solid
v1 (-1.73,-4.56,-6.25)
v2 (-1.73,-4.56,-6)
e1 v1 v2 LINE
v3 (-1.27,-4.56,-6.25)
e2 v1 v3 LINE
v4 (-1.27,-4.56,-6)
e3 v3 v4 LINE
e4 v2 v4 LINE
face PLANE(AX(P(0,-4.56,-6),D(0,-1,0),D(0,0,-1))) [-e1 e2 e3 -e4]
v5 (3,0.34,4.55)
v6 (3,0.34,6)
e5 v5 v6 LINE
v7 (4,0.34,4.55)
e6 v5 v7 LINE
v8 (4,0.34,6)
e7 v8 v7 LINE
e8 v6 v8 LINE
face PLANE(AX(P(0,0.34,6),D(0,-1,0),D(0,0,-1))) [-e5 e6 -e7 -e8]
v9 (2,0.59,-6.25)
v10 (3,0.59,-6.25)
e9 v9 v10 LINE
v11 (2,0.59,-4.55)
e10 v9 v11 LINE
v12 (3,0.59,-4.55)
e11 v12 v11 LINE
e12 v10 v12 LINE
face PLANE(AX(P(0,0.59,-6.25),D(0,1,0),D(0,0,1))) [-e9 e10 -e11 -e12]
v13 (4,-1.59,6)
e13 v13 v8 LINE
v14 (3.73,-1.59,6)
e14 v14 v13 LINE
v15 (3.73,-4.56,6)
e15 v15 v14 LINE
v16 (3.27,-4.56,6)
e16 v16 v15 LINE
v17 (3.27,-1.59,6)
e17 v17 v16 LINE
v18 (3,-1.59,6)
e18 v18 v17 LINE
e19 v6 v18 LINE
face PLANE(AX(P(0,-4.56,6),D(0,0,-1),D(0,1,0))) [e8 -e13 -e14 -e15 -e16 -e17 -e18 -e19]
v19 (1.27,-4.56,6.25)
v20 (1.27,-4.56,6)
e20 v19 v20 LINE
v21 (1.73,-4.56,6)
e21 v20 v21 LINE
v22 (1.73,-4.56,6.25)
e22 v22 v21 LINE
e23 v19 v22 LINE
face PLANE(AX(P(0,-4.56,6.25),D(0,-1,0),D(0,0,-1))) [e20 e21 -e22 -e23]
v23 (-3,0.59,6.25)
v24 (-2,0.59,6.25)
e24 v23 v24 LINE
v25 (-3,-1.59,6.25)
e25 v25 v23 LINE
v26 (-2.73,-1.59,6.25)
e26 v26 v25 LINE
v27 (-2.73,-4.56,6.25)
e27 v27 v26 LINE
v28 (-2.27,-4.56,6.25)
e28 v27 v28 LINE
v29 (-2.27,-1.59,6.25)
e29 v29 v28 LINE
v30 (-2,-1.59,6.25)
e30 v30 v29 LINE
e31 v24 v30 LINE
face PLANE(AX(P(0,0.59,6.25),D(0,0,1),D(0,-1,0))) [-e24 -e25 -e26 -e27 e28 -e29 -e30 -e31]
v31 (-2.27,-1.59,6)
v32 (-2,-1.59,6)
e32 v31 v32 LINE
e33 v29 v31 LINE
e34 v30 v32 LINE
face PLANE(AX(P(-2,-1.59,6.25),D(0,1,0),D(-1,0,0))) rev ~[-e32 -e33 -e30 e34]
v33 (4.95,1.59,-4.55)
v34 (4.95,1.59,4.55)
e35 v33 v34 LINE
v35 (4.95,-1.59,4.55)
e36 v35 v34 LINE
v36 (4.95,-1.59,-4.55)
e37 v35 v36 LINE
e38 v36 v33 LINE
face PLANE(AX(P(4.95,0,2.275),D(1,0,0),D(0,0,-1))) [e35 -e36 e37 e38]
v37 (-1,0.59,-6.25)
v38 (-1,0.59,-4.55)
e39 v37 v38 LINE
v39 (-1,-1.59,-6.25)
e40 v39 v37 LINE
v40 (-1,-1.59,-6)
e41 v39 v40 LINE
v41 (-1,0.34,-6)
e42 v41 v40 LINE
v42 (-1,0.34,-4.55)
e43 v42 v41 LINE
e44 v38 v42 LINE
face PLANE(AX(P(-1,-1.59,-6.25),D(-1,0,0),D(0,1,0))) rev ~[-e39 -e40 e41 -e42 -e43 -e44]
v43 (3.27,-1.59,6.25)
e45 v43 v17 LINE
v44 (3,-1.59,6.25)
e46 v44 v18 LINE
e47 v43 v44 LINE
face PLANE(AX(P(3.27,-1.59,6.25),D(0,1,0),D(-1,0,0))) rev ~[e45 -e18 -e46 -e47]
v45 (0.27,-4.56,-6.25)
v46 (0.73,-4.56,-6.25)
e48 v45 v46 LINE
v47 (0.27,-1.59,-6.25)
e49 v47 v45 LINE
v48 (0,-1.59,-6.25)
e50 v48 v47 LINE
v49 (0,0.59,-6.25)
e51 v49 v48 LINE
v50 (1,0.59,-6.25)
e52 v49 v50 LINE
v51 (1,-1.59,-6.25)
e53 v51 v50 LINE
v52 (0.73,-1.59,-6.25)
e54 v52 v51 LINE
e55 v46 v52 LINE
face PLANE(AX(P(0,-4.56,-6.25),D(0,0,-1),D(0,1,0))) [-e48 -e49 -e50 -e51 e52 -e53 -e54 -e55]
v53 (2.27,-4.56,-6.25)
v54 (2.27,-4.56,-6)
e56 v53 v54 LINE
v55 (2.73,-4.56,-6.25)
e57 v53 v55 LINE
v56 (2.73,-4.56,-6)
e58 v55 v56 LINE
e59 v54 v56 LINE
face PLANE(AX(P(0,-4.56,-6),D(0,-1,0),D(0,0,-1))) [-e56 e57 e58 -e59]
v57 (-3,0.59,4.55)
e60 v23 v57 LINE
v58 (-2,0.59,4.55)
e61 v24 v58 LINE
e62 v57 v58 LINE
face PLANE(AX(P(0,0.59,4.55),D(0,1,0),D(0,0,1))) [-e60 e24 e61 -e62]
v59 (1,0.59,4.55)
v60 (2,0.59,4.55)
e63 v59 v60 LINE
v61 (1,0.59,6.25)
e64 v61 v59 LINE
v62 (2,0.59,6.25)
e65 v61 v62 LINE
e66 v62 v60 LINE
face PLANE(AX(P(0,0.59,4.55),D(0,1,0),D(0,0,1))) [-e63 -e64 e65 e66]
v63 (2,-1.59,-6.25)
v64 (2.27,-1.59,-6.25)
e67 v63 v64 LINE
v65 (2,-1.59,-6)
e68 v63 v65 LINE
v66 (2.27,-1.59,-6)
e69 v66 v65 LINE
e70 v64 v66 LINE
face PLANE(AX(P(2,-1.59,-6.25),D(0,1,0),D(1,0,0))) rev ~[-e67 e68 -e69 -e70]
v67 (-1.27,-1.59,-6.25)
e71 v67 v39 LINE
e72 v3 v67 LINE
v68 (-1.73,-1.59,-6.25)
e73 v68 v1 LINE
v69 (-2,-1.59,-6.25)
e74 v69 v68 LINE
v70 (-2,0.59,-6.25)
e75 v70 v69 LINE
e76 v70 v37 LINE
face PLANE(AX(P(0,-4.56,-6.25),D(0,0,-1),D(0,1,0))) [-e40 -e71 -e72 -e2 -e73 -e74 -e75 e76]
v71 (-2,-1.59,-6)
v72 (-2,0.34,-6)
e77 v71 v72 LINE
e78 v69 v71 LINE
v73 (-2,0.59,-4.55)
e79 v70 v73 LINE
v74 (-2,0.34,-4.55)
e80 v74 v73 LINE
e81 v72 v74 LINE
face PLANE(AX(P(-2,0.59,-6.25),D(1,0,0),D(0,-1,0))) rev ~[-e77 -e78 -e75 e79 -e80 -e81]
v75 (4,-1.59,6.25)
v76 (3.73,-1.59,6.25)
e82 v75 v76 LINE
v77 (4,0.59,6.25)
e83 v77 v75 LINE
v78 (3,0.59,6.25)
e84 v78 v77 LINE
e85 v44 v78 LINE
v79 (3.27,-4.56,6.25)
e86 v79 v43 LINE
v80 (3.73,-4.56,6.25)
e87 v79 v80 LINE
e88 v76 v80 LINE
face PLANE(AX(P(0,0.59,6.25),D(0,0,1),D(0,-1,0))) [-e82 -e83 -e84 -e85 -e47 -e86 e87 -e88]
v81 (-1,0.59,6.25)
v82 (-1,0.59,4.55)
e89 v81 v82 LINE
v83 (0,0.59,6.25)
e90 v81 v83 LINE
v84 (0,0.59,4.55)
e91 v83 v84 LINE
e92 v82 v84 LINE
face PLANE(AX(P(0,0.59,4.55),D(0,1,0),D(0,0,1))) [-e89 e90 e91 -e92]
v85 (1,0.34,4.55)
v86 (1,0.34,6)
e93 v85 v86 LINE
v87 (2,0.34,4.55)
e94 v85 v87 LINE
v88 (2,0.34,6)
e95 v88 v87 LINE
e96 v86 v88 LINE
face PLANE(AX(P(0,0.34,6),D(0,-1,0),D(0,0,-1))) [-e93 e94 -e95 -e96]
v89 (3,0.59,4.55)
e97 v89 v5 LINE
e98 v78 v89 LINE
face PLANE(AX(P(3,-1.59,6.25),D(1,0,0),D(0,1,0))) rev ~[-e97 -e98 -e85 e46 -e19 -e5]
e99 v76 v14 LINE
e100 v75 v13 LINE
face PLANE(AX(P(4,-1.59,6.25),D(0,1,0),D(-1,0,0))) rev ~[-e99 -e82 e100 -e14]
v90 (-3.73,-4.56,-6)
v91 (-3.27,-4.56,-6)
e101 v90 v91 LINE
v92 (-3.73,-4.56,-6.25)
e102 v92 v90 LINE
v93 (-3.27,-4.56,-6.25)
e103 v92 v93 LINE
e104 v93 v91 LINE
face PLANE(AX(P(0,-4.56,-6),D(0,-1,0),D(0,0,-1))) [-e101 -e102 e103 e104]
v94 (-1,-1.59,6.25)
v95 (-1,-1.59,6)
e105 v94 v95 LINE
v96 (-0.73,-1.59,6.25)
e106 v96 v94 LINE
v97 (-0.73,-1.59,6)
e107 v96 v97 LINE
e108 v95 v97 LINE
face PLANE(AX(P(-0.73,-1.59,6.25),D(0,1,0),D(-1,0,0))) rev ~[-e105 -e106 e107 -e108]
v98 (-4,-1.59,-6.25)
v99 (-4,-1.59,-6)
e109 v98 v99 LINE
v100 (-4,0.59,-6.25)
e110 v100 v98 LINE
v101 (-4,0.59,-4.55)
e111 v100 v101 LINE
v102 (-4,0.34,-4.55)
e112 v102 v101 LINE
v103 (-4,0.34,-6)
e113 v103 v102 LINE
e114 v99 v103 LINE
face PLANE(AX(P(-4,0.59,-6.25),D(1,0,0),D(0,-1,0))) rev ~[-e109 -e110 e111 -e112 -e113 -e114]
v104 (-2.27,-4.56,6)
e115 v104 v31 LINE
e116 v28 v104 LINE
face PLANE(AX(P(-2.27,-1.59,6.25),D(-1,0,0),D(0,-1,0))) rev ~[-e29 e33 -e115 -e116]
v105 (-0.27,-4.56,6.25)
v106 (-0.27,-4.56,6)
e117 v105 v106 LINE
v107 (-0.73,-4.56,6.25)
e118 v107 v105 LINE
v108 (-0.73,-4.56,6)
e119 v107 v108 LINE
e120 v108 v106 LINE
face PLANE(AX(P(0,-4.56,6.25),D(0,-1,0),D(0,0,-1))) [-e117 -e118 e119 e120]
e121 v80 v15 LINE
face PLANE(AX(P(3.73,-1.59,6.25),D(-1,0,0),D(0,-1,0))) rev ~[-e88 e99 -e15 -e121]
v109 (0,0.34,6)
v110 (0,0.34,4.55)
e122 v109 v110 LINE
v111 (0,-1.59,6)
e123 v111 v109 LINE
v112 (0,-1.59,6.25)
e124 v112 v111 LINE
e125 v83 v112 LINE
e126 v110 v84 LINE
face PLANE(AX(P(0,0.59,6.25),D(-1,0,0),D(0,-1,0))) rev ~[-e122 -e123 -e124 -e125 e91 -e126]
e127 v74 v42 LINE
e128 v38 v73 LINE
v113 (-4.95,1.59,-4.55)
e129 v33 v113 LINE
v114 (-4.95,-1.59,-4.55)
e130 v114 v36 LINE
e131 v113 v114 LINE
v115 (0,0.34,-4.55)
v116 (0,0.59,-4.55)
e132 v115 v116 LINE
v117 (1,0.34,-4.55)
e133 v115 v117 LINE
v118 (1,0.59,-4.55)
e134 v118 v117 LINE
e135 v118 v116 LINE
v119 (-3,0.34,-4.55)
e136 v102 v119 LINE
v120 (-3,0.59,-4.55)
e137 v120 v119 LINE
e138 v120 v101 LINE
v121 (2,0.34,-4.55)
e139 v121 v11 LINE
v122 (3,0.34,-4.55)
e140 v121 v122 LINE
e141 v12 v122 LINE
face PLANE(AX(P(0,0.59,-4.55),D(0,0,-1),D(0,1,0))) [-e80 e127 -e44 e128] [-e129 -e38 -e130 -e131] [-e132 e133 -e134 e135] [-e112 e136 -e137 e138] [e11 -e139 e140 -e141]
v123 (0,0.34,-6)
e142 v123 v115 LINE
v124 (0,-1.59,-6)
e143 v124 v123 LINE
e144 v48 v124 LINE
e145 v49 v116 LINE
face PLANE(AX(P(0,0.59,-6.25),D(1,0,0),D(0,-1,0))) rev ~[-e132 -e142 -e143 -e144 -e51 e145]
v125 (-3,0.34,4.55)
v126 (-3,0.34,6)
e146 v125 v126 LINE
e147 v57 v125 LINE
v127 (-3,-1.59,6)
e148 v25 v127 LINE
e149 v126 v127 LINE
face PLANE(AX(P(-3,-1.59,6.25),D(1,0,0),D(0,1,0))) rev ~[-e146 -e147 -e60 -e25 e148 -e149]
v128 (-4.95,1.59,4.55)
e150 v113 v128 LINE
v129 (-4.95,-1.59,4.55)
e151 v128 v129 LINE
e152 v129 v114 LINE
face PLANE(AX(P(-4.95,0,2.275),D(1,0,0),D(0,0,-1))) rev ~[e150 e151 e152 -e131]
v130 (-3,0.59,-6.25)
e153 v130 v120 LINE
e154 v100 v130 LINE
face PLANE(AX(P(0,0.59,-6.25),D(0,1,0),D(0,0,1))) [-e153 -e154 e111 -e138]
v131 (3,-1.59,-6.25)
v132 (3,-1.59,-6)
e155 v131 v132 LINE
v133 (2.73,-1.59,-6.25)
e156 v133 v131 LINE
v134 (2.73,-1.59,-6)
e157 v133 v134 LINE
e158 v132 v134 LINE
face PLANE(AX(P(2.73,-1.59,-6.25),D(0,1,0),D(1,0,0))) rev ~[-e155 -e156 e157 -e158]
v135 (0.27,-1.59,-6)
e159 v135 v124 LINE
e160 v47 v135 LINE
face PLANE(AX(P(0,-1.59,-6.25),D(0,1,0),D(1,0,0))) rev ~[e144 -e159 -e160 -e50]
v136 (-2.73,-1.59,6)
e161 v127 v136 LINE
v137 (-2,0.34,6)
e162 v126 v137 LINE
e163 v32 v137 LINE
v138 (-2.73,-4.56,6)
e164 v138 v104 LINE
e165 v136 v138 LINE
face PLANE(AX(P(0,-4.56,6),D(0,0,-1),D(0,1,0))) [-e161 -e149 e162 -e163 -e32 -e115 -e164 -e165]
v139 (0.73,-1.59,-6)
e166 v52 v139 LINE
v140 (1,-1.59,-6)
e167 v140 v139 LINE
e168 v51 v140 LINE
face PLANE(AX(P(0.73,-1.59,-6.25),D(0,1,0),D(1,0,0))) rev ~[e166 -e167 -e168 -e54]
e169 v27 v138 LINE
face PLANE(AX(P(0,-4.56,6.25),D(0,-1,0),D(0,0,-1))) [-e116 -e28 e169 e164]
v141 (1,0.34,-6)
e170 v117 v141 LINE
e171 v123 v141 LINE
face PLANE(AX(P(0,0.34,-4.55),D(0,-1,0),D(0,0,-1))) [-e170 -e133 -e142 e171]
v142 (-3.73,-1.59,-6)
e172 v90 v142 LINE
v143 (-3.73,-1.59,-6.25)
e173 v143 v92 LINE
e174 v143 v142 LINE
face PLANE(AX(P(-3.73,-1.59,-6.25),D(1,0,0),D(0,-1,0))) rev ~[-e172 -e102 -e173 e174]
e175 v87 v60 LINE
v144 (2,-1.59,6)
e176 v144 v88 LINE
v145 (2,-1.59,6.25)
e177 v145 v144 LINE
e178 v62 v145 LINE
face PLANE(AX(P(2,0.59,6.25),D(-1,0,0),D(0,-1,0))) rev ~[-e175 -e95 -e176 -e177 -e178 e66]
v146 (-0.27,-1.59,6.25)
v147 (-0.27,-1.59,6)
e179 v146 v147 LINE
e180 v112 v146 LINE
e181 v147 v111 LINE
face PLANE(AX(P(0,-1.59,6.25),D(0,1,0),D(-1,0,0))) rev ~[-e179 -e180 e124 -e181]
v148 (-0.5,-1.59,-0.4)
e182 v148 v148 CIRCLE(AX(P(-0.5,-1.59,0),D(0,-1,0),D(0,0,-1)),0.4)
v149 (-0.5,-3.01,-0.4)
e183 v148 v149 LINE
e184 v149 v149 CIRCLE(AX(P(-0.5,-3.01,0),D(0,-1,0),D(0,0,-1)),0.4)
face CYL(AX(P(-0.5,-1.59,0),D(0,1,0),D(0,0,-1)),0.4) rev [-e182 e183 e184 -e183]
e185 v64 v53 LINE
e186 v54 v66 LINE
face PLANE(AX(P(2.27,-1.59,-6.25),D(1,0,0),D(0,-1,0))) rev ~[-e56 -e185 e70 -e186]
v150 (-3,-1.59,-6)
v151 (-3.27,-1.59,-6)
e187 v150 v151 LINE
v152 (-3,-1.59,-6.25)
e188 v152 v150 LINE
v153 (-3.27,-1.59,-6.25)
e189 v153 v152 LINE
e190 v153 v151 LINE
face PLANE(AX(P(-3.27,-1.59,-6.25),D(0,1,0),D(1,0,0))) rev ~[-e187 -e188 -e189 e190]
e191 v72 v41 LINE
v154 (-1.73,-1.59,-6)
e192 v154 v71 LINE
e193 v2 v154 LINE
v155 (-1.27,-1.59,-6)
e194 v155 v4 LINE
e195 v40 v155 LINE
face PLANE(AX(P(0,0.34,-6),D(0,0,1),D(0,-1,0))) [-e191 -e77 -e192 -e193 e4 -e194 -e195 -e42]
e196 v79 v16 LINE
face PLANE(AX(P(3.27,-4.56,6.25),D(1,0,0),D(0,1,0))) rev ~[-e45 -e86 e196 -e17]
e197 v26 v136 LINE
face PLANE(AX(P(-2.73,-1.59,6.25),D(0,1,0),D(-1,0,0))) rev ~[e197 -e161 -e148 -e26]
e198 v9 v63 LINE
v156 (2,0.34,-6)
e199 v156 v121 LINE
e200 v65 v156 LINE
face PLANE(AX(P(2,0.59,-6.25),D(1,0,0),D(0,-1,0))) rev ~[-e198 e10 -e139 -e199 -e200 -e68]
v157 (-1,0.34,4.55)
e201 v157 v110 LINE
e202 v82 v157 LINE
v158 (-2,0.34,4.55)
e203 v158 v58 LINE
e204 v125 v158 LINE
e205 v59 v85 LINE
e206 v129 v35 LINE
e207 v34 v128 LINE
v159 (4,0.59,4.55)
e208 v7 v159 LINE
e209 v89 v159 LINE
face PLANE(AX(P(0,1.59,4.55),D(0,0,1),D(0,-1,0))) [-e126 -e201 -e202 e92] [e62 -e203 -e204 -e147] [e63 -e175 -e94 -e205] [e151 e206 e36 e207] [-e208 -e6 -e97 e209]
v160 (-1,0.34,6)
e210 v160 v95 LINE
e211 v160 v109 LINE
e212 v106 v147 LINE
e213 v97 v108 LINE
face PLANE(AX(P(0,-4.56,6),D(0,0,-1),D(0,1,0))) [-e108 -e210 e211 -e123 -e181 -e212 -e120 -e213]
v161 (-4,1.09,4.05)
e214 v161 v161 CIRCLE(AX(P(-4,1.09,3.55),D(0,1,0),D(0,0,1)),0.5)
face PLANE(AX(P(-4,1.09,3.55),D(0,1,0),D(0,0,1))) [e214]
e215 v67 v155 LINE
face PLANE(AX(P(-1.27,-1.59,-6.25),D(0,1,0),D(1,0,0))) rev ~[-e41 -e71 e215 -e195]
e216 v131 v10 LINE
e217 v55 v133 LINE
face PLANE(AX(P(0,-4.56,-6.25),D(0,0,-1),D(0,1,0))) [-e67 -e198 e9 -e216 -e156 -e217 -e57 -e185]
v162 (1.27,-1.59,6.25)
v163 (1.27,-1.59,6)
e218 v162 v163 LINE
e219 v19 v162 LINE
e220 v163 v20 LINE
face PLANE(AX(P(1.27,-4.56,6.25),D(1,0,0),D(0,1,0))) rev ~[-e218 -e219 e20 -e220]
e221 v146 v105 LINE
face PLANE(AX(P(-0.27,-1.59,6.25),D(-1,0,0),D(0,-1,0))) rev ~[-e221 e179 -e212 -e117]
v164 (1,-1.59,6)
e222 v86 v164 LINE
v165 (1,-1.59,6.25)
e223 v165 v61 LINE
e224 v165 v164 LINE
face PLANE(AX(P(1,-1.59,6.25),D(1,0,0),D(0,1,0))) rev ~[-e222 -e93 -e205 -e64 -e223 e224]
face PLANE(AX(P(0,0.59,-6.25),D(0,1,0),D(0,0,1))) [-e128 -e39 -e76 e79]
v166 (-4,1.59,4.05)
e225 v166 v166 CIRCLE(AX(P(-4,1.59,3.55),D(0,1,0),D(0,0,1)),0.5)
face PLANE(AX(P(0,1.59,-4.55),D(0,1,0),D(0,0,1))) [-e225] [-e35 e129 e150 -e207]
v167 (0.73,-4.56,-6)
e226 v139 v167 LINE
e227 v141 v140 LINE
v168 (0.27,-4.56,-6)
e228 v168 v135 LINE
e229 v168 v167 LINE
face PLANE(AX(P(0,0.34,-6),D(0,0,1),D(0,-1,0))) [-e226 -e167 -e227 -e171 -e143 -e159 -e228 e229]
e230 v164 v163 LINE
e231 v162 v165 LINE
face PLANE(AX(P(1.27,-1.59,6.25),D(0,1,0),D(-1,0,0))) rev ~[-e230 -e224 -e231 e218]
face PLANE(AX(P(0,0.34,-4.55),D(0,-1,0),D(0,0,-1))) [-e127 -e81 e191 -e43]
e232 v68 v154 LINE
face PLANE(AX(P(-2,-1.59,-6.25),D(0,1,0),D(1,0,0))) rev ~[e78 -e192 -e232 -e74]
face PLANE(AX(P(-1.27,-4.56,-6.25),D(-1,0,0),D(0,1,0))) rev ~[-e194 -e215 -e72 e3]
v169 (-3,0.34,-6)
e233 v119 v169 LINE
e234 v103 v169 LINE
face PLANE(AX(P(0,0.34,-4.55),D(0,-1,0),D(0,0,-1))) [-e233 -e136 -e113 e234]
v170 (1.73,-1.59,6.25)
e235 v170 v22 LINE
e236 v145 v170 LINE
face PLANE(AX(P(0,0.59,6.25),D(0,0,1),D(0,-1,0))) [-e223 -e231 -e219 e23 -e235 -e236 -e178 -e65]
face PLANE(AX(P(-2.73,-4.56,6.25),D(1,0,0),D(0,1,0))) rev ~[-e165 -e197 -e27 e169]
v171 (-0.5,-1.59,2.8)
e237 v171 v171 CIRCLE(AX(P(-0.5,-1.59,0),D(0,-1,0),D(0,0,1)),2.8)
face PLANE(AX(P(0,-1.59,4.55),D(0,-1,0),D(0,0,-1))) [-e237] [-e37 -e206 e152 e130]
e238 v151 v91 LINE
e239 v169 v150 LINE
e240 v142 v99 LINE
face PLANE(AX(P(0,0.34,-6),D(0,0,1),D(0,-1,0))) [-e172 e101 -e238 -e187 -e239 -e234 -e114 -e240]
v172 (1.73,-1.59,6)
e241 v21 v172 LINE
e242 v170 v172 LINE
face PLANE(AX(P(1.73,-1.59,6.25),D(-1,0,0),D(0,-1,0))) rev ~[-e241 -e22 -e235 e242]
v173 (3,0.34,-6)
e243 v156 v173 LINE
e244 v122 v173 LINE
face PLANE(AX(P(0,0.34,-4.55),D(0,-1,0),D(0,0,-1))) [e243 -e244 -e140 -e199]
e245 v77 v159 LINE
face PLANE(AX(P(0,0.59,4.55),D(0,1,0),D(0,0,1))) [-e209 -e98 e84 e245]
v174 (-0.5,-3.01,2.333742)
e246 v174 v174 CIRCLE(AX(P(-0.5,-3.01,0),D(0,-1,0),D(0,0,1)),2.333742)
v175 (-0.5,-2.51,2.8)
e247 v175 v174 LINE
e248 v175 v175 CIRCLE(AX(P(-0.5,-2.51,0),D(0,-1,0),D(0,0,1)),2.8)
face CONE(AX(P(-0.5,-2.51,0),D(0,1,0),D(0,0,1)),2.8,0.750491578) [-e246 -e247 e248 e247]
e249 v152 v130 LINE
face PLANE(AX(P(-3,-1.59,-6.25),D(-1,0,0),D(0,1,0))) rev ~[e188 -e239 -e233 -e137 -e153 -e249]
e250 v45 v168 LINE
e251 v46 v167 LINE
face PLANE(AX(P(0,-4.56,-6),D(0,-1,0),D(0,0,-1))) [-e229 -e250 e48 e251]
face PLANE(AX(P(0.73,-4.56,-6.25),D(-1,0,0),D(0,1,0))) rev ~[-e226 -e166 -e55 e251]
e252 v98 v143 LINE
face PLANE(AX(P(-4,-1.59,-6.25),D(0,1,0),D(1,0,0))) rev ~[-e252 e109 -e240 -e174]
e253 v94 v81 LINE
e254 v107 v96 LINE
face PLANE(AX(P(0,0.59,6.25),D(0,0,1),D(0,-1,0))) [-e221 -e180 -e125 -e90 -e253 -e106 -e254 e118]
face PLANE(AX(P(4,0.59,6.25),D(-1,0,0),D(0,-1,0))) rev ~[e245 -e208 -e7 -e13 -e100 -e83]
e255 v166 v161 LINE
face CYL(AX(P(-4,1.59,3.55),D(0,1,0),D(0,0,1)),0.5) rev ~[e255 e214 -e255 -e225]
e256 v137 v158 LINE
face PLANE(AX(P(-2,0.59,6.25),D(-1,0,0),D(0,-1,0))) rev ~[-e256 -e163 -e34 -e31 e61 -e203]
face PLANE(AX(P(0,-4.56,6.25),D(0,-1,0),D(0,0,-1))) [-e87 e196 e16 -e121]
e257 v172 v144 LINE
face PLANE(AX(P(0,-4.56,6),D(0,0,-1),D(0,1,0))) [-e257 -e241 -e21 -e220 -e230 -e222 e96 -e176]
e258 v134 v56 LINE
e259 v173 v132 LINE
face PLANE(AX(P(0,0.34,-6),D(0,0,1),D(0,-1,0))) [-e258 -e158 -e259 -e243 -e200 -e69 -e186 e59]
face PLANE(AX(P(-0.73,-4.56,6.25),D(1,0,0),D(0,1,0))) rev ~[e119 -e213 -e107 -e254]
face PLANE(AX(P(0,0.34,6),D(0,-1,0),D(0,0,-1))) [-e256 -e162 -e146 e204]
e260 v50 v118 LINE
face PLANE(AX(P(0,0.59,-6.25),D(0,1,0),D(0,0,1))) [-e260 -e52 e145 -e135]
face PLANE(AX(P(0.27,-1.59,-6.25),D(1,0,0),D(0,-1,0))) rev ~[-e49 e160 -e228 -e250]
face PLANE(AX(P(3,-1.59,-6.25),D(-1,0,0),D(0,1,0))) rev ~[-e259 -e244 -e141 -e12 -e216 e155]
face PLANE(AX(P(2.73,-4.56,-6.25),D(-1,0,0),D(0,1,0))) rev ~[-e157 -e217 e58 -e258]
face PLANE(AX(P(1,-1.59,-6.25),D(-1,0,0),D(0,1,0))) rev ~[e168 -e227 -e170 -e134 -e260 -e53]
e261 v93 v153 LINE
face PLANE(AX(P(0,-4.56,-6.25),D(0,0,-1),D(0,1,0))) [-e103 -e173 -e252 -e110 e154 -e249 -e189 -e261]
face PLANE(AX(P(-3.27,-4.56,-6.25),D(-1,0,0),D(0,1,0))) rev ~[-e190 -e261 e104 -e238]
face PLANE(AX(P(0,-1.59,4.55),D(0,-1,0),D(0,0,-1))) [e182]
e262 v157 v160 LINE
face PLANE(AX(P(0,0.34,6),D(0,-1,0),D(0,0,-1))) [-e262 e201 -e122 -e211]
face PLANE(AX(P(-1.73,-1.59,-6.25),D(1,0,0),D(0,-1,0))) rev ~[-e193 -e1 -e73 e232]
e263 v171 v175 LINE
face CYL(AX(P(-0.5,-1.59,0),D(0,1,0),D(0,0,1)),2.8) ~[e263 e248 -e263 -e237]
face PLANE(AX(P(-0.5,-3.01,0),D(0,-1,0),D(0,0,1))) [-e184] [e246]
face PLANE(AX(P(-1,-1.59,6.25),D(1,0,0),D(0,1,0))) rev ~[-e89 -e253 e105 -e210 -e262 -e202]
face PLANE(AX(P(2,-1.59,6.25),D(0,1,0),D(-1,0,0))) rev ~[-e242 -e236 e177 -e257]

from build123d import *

# Parameters (mm, degrees)
EXTRUDE_1_DEPTH     = 4.95
SKETCH_2_R          = 0.5
CUT_EXTRUDE_1_DEPTH = 0.5
CUT_EXTRUDE_2_REACH = 16.197
CUT_EXTRUDE_3_REACH = 16.197
SKETCH_5_R          = 2.8
SKETCH_5_R_2        = 0.4
EXTRUDE_2_DEPTH     = 1.42
CHAMFER_1_SIZE      = 0.5
CHAMFER_1_SIZE2     = 0.466257543


with BuildPart() as part:
    # Эскиз1 → Бобышка-Вытянуть1 (new, symmetric)
    with BuildSketch(Plane(origin=(0, 0, 0), x_dir=(0, 0, -1), z_dir=(1, 0, 0))):
        Polygon((0, 1.59), (-4.55, 1.59), (-4.55, 0.59), (-4.55, 0.34), (-4.55, -1.59), (0, -1.59), align=None)
        Polygon((4.55, 1.59), (0, 1.59), (0, -1.59), (4.55, -1.59), (4.55, 0.34), (4.55, 0.59), align=None)
        Polygon((-4.55, 0.34), (-4.55, 0.59), (-6.25, 0.59), (-6.25, -4.56), (-6, -4.56), (-6, 0.34), align=None)
        Polygon((6.25, 0.59), (4.55, 0.59), (4.55, 0.34), (6, 0.34), (6, -4.56), (6.25, -4.56), align=None)
    extrude(amount=EXTRUDE_1_DEPTH, both=True)

    # Эскиз2 → Вырез-Вытянуть1 (cut)
    with BuildSketch(Plane(origin=(0, 1.59, 0), x_dir=(1, 0, 0), z_dir=(0, 1, 0))):
        with Locations(Location((-4, -3.55, 0), (0, 0, 270))):
            Circle(SKETCH_2_R)
    extrude(amount=-CUT_EXTRUDE_1_DEPTH, mode=Mode.SUBTRACT)

    # Вырез-Вытянуть2: up to this face of the body (flat: up to its plane)
    cut_extrude_2_end = Plane(part.part.faces().sort_by_distance((0, -0.625, 4.55))[0])
    # Эскиз3 → Вырез-Вытянуть2 (cut, up to the picked face)
    with BuildSketch(Plane.XY.offset(6.25), mode=Mode.PRIVATE) as cut_extrude_2_sk1:
        Polygon((-3, -1.59), (-3, 0.59), (-4.95, 0.59), (-4.95, -4.56), (-2.73, -4.56), (-2.73, -1.59), align=None)
    cut_extrude_2_tool1 = split(extrude(cut_extrude_2_sk1.sketch, amount=-CUT_EXTRUDE_2_REACH, mode=Mode.PRIVATE), bisect_by=cut_extrude_2_end, keep=Keep.BOTH, mode=Mode.PRIVATE)
    # Эскиз3 → Вырез-Вытянуть2 (cut, up to the picked face)
    with BuildSketch(Plane.XY.offset(6.25), mode=Mode.PRIVATE) as cut_extrude_2_sk2:
        Polygon((-1, 0.59), (-2, 0.59), (-2, -1.59), (-2.27, -1.59), (-2.27, -4.56), (-0.73, -4.56), (-0.73, -1.59), (-1, -1.59), align=None)
    cut_extrude_2_tool2 = split(extrude(cut_extrude_2_sk2.sketch, amount=-CUT_EXTRUDE_2_REACH, mode=Mode.PRIVATE), bisect_by=cut_extrude_2_end, keep=Keep.BOTH, mode=Mode.PRIVATE)
    # Эскиз3 → Вырез-Вытянуть2 (cut, up to the picked face)
    with BuildSketch(Plane.XY.offset(6.25), mode=Mode.PRIVATE) as cut_extrude_2_sk3:
        Polygon((1, 0.59), (0, 0.59), (0, -1.59), (-0.27, -1.59), (-0.27, -4.56), (1.27, -4.56), (1.27, -1.59), (1, -1.59), align=None)
    cut_extrude_2_tool3 = split(extrude(cut_extrude_2_sk3.sketch, amount=-CUT_EXTRUDE_2_REACH, mode=Mode.PRIVATE), bisect_by=cut_extrude_2_end, keep=Keep.BOTH, mode=Mode.PRIVATE)
    # Эскиз3 → Вырез-Вытянуть2 (cut, up to the picked face)
    with BuildSketch(Plane.XY.offset(6.25), mode=Mode.PRIVATE) as cut_extrude_2_sk4:
        Polygon((3, 0.59), (2, 0.59), (2, -1.59), (1.73, -1.59), (1.73, -4.56), (3.27, -4.56), (3.27, -1.59), (3, -1.59), align=None)
    cut_extrude_2_tool4 = split(extrude(cut_extrude_2_sk4.sketch, amount=-CUT_EXTRUDE_2_REACH, mode=Mode.PRIVATE), bisect_by=cut_extrude_2_end, keep=Keep.BOTH, mode=Mode.PRIVATE)
    # Эскиз3 → Вырез-Вытянуть2 (cut, up to the picked face)
    with BuildSketch(Plane.XY.offset(6.25), mode=Mode.PRIVATE) as cut_extrude_2_sk5:
        Polygon((4.95, 0.59), (4, 0.59), (4, -1.59), (3.73, -1.59), (3.73, -4.56), (4.95, -4.56), align=None)
    cut_extrude_2_tool5 = split(extrude(cut_extrude_2_sk5.sketch, amount=-CUT_EXTRUDE_2_REACH, mode=Mode.PRIVATE), bisect_by=cut_extrude_2_end, keep=Keep.BOTH, mode=Mode.PRIVATE)
    add(cut_extrude_2_tool1.solids().sort_by(Axis((-3.89292, -2.065601, 6.25), (0, 0, -1)))[0], mode=Mode.SUBTRACT)
    add(cut_extrude_2_tool2.solids().sort_by(Axis((-1.5, -2.243838, 6.25), (0, 0, -1)))[0], mode=Mode.SUBTRACT)
    add(cut_extrude_2_tool3.solids().sort_by(Axis((0.5, -2.243838, 6.25), (0, 0, -1)))[0], mode=Mode.SUBTRACT)
    add(cut_extrude_2_tool4.solids().sort_by(Axis((2.5, -2.243838, 6.25), (0, 0, -1)))[0], mode=Mode.SUBTRACT)
    add(cut_extrude_2_tool5.solids().sort_by(Axis((4.389098, -2.138497, 6.25), (0, 0, -1)))[0], mode=Mode.SUBTRACT)

    # Вырез-Вытянуть3: up to this face of the body (flat: up to its plane)
    cut_extrude_3_end = Plane(part.part.faces().sort_by_distance((0, -0.625, -4.55))[0])
    # Эскиз4 → Вырез-Вытянуть3 (cut, up to the picked face)
    with BuildSketch(Plane(origin=(0, 0, -6.25), x_dir=(-1, 0, 0), z_dir=(0, 0, -1)), mode=Mode.PRIVATE) as cut_extrude_3_sk1:
        Polygon((-3, -1.59), (-3, 0.59), (-4.95, 0.59), (-4.95, -4.56), (-2.73, -4.56), (-2.73, -1.59), align=None)
    cut_extrude_3_tool1 = split(extrude(cut_extrude_3_sk1.sketch, amount=-CUT_EXTRUDE_3_REACH, mode=Mode.PRIVATE), bisect_by=cut_extrude_3_end, keep=Keep.BOTH, mode=Mode.PRIVATE)
    # Эскиз4 → Вырез-Вытянуть3 (cut, up to the picked face)
    with BuildSketch(Plane(origin=(0, 0, -6.25), x_dir=(-1, 0, 0), z_dir=(0, 0, -1)), mode=Mode.PRIVATE) as cut_extrude_3_sk2:
        Polygon((-1, 0.59), (-2, 0.59), (-2, -1.59), (-2.27, -1.59), (-2.27, -4.56), (-0.73, -4.56), (-0.73, -1.59), (-1, -1.59), align=None)
    cut_extrude_3_tool2 = split(extrude(cut_extrude_3_sk2.sketch, amount=-CUT_EXTRUDE_3_REACH, mode=Mode.PRIVATE), bisect_by=cut_extrude_3_end, keep=Keep.BOTH, mode=Mode.PRIVATE)
    # Эскиз4 → Вырез-Вытянуть3 (cut, up to the picked face)
    with BuildSketch(Plane(origin=(0, 0, -6.25), x_dir=(-1, 0, 0), z_dir=(0, 0, -1)), mode=Mode.PRIVATE) as cut_extrude_3_sk3:
        Polygon((1, 0.59), (0, 0.59), (0, -1.59), (-0.27, -1.59), (-0.27, -4.56), (1.27, -4.56), (1.27, -1.59), (1, -1.59), align=None)
    cut_extrude_3_tool3 = split(extrude(cut_extrude_3_sk3.sketch, amount=-CUT_EXTRUDE_3_REACH, mode=Mode.PRIVATE), bisect_by=cut_extrude_3_end, keep=Keep.BOTH, mode=Mode.PRIVATE)
    # Эскиз4 → Вырез-Вытянуть3 (cut, up to the picked face)
    with BuildSketch(Plane(origin=(0, 0, -6.25), x_dir=(-1, 0, 0), z_dir=(0, 0, -1)), mode=Mode.PRIVATE) as cut_extrude_3_sk4:
        Polygon((3, 0.59), (2, 0.59), (2, -1.59), (1.73, -1.59), (1.73, -4.56), (3.27, -4.56), (3.27, -1.59), (3, -1.59), align=None)
    cut_extrude_3_tool4 = split(extrude(cut_extrude_3_sk4.sketch, amount=-CUT_EXTRUDE_3_REACH, mode=Mode.PRIVATE), bisect_by=cut_extrude_3_end, keep=Keep.BOTH, mode=Mode.PRIVATE)
    # Эскиз4 → Вырез-Вытянуть3 (cut, up to the picked face)
    with BuildSketch(Plane(origin=(0, 0, -6.25), x_dir=(-1, 0, 0), z_dir=(0, 0, -1)), mode=Mode.PRIVATE) as cut_extrude_3_sk5:
        Polygon((4.95, 0.59), (4, 0.59), (4, -1.59), (3.73, -1.59), (3.73, -4.56), (4.95, -4.56), align=None)
    cut_extrude_3_tool5 = split(extrude(cut_extrude_3_sk5.sketch, amount=-CUT_EXTRUDE_3_REACH, mode=Mode.PRIVATE), bisect_by=cut_extrude_3_end, keep=Keep.BOTH, mode=Mode.PRIVATE)
    add(cut_extrude_3_tool1.solids().sort_by(Axis((3.89292, -2.065601, -6.25), (0, 0, 1)))[0], mode=Mode.SUBTRACT)
    add(cut_extrude_3_tool2.solids().sort_by(Axis((1.5, -2.243838, -6.25), (0, 0, 1)))[0], mode=Mode.SUBTRACT)
    add(cut_extrude_3_tool3.solids().sort_by(Axis((-0.5, -2.243838, -6.25), (0, 0, 1)))[0], mode=Mode.SUBTRACT)
    add(cut_extrude_3_tool4.solids().sort_by(Axis((-2.5, -2.243838, -6.25), (0, 0, 1)))[0], mode=Mode.SUBTRACT)
    add(cut_extrude_3_tool5.solids().sort_by(Axis((-4.389098, -2.138497, -6.25), (0, 0, 1)))[0], mode=Mode.SUBTRACT)

    # Эскиз5 → Бобышка-Вытянуть2 (add)
    with BuildSketch(Plane.XZ.offset(1.59)):
        with Locations(Location((-0.5, 0, 0), (0, 0, 90))):
            Circle(SKETCH_5_R)
        with Locations(Location((-0.5, 0, 0), (0, 0, 270))):
            Circle(SKETCH_5_R_2, mode=Mode.SUBTRACT)
    extrude(amount=EXTRUDE_2_DEPTH)

    # Фаска1
    chamfer_1_edges = [part.edges().sort_by_distance(p)[0] for p in [
        (-0.5, -3.01, -2.8),
    ]]
    chamfer_1_side = [part.faces().sort_by_distance(p)[0] for p in [
        (-0.5, -2.3, -2.8),
    ]]
    chamfer(chamfer_1_edges, length=CHAMFER_1_SIZE, length2=CHAMFER_1_SIZE2, reference=chamfer_1_side[0])


solid = part.part
